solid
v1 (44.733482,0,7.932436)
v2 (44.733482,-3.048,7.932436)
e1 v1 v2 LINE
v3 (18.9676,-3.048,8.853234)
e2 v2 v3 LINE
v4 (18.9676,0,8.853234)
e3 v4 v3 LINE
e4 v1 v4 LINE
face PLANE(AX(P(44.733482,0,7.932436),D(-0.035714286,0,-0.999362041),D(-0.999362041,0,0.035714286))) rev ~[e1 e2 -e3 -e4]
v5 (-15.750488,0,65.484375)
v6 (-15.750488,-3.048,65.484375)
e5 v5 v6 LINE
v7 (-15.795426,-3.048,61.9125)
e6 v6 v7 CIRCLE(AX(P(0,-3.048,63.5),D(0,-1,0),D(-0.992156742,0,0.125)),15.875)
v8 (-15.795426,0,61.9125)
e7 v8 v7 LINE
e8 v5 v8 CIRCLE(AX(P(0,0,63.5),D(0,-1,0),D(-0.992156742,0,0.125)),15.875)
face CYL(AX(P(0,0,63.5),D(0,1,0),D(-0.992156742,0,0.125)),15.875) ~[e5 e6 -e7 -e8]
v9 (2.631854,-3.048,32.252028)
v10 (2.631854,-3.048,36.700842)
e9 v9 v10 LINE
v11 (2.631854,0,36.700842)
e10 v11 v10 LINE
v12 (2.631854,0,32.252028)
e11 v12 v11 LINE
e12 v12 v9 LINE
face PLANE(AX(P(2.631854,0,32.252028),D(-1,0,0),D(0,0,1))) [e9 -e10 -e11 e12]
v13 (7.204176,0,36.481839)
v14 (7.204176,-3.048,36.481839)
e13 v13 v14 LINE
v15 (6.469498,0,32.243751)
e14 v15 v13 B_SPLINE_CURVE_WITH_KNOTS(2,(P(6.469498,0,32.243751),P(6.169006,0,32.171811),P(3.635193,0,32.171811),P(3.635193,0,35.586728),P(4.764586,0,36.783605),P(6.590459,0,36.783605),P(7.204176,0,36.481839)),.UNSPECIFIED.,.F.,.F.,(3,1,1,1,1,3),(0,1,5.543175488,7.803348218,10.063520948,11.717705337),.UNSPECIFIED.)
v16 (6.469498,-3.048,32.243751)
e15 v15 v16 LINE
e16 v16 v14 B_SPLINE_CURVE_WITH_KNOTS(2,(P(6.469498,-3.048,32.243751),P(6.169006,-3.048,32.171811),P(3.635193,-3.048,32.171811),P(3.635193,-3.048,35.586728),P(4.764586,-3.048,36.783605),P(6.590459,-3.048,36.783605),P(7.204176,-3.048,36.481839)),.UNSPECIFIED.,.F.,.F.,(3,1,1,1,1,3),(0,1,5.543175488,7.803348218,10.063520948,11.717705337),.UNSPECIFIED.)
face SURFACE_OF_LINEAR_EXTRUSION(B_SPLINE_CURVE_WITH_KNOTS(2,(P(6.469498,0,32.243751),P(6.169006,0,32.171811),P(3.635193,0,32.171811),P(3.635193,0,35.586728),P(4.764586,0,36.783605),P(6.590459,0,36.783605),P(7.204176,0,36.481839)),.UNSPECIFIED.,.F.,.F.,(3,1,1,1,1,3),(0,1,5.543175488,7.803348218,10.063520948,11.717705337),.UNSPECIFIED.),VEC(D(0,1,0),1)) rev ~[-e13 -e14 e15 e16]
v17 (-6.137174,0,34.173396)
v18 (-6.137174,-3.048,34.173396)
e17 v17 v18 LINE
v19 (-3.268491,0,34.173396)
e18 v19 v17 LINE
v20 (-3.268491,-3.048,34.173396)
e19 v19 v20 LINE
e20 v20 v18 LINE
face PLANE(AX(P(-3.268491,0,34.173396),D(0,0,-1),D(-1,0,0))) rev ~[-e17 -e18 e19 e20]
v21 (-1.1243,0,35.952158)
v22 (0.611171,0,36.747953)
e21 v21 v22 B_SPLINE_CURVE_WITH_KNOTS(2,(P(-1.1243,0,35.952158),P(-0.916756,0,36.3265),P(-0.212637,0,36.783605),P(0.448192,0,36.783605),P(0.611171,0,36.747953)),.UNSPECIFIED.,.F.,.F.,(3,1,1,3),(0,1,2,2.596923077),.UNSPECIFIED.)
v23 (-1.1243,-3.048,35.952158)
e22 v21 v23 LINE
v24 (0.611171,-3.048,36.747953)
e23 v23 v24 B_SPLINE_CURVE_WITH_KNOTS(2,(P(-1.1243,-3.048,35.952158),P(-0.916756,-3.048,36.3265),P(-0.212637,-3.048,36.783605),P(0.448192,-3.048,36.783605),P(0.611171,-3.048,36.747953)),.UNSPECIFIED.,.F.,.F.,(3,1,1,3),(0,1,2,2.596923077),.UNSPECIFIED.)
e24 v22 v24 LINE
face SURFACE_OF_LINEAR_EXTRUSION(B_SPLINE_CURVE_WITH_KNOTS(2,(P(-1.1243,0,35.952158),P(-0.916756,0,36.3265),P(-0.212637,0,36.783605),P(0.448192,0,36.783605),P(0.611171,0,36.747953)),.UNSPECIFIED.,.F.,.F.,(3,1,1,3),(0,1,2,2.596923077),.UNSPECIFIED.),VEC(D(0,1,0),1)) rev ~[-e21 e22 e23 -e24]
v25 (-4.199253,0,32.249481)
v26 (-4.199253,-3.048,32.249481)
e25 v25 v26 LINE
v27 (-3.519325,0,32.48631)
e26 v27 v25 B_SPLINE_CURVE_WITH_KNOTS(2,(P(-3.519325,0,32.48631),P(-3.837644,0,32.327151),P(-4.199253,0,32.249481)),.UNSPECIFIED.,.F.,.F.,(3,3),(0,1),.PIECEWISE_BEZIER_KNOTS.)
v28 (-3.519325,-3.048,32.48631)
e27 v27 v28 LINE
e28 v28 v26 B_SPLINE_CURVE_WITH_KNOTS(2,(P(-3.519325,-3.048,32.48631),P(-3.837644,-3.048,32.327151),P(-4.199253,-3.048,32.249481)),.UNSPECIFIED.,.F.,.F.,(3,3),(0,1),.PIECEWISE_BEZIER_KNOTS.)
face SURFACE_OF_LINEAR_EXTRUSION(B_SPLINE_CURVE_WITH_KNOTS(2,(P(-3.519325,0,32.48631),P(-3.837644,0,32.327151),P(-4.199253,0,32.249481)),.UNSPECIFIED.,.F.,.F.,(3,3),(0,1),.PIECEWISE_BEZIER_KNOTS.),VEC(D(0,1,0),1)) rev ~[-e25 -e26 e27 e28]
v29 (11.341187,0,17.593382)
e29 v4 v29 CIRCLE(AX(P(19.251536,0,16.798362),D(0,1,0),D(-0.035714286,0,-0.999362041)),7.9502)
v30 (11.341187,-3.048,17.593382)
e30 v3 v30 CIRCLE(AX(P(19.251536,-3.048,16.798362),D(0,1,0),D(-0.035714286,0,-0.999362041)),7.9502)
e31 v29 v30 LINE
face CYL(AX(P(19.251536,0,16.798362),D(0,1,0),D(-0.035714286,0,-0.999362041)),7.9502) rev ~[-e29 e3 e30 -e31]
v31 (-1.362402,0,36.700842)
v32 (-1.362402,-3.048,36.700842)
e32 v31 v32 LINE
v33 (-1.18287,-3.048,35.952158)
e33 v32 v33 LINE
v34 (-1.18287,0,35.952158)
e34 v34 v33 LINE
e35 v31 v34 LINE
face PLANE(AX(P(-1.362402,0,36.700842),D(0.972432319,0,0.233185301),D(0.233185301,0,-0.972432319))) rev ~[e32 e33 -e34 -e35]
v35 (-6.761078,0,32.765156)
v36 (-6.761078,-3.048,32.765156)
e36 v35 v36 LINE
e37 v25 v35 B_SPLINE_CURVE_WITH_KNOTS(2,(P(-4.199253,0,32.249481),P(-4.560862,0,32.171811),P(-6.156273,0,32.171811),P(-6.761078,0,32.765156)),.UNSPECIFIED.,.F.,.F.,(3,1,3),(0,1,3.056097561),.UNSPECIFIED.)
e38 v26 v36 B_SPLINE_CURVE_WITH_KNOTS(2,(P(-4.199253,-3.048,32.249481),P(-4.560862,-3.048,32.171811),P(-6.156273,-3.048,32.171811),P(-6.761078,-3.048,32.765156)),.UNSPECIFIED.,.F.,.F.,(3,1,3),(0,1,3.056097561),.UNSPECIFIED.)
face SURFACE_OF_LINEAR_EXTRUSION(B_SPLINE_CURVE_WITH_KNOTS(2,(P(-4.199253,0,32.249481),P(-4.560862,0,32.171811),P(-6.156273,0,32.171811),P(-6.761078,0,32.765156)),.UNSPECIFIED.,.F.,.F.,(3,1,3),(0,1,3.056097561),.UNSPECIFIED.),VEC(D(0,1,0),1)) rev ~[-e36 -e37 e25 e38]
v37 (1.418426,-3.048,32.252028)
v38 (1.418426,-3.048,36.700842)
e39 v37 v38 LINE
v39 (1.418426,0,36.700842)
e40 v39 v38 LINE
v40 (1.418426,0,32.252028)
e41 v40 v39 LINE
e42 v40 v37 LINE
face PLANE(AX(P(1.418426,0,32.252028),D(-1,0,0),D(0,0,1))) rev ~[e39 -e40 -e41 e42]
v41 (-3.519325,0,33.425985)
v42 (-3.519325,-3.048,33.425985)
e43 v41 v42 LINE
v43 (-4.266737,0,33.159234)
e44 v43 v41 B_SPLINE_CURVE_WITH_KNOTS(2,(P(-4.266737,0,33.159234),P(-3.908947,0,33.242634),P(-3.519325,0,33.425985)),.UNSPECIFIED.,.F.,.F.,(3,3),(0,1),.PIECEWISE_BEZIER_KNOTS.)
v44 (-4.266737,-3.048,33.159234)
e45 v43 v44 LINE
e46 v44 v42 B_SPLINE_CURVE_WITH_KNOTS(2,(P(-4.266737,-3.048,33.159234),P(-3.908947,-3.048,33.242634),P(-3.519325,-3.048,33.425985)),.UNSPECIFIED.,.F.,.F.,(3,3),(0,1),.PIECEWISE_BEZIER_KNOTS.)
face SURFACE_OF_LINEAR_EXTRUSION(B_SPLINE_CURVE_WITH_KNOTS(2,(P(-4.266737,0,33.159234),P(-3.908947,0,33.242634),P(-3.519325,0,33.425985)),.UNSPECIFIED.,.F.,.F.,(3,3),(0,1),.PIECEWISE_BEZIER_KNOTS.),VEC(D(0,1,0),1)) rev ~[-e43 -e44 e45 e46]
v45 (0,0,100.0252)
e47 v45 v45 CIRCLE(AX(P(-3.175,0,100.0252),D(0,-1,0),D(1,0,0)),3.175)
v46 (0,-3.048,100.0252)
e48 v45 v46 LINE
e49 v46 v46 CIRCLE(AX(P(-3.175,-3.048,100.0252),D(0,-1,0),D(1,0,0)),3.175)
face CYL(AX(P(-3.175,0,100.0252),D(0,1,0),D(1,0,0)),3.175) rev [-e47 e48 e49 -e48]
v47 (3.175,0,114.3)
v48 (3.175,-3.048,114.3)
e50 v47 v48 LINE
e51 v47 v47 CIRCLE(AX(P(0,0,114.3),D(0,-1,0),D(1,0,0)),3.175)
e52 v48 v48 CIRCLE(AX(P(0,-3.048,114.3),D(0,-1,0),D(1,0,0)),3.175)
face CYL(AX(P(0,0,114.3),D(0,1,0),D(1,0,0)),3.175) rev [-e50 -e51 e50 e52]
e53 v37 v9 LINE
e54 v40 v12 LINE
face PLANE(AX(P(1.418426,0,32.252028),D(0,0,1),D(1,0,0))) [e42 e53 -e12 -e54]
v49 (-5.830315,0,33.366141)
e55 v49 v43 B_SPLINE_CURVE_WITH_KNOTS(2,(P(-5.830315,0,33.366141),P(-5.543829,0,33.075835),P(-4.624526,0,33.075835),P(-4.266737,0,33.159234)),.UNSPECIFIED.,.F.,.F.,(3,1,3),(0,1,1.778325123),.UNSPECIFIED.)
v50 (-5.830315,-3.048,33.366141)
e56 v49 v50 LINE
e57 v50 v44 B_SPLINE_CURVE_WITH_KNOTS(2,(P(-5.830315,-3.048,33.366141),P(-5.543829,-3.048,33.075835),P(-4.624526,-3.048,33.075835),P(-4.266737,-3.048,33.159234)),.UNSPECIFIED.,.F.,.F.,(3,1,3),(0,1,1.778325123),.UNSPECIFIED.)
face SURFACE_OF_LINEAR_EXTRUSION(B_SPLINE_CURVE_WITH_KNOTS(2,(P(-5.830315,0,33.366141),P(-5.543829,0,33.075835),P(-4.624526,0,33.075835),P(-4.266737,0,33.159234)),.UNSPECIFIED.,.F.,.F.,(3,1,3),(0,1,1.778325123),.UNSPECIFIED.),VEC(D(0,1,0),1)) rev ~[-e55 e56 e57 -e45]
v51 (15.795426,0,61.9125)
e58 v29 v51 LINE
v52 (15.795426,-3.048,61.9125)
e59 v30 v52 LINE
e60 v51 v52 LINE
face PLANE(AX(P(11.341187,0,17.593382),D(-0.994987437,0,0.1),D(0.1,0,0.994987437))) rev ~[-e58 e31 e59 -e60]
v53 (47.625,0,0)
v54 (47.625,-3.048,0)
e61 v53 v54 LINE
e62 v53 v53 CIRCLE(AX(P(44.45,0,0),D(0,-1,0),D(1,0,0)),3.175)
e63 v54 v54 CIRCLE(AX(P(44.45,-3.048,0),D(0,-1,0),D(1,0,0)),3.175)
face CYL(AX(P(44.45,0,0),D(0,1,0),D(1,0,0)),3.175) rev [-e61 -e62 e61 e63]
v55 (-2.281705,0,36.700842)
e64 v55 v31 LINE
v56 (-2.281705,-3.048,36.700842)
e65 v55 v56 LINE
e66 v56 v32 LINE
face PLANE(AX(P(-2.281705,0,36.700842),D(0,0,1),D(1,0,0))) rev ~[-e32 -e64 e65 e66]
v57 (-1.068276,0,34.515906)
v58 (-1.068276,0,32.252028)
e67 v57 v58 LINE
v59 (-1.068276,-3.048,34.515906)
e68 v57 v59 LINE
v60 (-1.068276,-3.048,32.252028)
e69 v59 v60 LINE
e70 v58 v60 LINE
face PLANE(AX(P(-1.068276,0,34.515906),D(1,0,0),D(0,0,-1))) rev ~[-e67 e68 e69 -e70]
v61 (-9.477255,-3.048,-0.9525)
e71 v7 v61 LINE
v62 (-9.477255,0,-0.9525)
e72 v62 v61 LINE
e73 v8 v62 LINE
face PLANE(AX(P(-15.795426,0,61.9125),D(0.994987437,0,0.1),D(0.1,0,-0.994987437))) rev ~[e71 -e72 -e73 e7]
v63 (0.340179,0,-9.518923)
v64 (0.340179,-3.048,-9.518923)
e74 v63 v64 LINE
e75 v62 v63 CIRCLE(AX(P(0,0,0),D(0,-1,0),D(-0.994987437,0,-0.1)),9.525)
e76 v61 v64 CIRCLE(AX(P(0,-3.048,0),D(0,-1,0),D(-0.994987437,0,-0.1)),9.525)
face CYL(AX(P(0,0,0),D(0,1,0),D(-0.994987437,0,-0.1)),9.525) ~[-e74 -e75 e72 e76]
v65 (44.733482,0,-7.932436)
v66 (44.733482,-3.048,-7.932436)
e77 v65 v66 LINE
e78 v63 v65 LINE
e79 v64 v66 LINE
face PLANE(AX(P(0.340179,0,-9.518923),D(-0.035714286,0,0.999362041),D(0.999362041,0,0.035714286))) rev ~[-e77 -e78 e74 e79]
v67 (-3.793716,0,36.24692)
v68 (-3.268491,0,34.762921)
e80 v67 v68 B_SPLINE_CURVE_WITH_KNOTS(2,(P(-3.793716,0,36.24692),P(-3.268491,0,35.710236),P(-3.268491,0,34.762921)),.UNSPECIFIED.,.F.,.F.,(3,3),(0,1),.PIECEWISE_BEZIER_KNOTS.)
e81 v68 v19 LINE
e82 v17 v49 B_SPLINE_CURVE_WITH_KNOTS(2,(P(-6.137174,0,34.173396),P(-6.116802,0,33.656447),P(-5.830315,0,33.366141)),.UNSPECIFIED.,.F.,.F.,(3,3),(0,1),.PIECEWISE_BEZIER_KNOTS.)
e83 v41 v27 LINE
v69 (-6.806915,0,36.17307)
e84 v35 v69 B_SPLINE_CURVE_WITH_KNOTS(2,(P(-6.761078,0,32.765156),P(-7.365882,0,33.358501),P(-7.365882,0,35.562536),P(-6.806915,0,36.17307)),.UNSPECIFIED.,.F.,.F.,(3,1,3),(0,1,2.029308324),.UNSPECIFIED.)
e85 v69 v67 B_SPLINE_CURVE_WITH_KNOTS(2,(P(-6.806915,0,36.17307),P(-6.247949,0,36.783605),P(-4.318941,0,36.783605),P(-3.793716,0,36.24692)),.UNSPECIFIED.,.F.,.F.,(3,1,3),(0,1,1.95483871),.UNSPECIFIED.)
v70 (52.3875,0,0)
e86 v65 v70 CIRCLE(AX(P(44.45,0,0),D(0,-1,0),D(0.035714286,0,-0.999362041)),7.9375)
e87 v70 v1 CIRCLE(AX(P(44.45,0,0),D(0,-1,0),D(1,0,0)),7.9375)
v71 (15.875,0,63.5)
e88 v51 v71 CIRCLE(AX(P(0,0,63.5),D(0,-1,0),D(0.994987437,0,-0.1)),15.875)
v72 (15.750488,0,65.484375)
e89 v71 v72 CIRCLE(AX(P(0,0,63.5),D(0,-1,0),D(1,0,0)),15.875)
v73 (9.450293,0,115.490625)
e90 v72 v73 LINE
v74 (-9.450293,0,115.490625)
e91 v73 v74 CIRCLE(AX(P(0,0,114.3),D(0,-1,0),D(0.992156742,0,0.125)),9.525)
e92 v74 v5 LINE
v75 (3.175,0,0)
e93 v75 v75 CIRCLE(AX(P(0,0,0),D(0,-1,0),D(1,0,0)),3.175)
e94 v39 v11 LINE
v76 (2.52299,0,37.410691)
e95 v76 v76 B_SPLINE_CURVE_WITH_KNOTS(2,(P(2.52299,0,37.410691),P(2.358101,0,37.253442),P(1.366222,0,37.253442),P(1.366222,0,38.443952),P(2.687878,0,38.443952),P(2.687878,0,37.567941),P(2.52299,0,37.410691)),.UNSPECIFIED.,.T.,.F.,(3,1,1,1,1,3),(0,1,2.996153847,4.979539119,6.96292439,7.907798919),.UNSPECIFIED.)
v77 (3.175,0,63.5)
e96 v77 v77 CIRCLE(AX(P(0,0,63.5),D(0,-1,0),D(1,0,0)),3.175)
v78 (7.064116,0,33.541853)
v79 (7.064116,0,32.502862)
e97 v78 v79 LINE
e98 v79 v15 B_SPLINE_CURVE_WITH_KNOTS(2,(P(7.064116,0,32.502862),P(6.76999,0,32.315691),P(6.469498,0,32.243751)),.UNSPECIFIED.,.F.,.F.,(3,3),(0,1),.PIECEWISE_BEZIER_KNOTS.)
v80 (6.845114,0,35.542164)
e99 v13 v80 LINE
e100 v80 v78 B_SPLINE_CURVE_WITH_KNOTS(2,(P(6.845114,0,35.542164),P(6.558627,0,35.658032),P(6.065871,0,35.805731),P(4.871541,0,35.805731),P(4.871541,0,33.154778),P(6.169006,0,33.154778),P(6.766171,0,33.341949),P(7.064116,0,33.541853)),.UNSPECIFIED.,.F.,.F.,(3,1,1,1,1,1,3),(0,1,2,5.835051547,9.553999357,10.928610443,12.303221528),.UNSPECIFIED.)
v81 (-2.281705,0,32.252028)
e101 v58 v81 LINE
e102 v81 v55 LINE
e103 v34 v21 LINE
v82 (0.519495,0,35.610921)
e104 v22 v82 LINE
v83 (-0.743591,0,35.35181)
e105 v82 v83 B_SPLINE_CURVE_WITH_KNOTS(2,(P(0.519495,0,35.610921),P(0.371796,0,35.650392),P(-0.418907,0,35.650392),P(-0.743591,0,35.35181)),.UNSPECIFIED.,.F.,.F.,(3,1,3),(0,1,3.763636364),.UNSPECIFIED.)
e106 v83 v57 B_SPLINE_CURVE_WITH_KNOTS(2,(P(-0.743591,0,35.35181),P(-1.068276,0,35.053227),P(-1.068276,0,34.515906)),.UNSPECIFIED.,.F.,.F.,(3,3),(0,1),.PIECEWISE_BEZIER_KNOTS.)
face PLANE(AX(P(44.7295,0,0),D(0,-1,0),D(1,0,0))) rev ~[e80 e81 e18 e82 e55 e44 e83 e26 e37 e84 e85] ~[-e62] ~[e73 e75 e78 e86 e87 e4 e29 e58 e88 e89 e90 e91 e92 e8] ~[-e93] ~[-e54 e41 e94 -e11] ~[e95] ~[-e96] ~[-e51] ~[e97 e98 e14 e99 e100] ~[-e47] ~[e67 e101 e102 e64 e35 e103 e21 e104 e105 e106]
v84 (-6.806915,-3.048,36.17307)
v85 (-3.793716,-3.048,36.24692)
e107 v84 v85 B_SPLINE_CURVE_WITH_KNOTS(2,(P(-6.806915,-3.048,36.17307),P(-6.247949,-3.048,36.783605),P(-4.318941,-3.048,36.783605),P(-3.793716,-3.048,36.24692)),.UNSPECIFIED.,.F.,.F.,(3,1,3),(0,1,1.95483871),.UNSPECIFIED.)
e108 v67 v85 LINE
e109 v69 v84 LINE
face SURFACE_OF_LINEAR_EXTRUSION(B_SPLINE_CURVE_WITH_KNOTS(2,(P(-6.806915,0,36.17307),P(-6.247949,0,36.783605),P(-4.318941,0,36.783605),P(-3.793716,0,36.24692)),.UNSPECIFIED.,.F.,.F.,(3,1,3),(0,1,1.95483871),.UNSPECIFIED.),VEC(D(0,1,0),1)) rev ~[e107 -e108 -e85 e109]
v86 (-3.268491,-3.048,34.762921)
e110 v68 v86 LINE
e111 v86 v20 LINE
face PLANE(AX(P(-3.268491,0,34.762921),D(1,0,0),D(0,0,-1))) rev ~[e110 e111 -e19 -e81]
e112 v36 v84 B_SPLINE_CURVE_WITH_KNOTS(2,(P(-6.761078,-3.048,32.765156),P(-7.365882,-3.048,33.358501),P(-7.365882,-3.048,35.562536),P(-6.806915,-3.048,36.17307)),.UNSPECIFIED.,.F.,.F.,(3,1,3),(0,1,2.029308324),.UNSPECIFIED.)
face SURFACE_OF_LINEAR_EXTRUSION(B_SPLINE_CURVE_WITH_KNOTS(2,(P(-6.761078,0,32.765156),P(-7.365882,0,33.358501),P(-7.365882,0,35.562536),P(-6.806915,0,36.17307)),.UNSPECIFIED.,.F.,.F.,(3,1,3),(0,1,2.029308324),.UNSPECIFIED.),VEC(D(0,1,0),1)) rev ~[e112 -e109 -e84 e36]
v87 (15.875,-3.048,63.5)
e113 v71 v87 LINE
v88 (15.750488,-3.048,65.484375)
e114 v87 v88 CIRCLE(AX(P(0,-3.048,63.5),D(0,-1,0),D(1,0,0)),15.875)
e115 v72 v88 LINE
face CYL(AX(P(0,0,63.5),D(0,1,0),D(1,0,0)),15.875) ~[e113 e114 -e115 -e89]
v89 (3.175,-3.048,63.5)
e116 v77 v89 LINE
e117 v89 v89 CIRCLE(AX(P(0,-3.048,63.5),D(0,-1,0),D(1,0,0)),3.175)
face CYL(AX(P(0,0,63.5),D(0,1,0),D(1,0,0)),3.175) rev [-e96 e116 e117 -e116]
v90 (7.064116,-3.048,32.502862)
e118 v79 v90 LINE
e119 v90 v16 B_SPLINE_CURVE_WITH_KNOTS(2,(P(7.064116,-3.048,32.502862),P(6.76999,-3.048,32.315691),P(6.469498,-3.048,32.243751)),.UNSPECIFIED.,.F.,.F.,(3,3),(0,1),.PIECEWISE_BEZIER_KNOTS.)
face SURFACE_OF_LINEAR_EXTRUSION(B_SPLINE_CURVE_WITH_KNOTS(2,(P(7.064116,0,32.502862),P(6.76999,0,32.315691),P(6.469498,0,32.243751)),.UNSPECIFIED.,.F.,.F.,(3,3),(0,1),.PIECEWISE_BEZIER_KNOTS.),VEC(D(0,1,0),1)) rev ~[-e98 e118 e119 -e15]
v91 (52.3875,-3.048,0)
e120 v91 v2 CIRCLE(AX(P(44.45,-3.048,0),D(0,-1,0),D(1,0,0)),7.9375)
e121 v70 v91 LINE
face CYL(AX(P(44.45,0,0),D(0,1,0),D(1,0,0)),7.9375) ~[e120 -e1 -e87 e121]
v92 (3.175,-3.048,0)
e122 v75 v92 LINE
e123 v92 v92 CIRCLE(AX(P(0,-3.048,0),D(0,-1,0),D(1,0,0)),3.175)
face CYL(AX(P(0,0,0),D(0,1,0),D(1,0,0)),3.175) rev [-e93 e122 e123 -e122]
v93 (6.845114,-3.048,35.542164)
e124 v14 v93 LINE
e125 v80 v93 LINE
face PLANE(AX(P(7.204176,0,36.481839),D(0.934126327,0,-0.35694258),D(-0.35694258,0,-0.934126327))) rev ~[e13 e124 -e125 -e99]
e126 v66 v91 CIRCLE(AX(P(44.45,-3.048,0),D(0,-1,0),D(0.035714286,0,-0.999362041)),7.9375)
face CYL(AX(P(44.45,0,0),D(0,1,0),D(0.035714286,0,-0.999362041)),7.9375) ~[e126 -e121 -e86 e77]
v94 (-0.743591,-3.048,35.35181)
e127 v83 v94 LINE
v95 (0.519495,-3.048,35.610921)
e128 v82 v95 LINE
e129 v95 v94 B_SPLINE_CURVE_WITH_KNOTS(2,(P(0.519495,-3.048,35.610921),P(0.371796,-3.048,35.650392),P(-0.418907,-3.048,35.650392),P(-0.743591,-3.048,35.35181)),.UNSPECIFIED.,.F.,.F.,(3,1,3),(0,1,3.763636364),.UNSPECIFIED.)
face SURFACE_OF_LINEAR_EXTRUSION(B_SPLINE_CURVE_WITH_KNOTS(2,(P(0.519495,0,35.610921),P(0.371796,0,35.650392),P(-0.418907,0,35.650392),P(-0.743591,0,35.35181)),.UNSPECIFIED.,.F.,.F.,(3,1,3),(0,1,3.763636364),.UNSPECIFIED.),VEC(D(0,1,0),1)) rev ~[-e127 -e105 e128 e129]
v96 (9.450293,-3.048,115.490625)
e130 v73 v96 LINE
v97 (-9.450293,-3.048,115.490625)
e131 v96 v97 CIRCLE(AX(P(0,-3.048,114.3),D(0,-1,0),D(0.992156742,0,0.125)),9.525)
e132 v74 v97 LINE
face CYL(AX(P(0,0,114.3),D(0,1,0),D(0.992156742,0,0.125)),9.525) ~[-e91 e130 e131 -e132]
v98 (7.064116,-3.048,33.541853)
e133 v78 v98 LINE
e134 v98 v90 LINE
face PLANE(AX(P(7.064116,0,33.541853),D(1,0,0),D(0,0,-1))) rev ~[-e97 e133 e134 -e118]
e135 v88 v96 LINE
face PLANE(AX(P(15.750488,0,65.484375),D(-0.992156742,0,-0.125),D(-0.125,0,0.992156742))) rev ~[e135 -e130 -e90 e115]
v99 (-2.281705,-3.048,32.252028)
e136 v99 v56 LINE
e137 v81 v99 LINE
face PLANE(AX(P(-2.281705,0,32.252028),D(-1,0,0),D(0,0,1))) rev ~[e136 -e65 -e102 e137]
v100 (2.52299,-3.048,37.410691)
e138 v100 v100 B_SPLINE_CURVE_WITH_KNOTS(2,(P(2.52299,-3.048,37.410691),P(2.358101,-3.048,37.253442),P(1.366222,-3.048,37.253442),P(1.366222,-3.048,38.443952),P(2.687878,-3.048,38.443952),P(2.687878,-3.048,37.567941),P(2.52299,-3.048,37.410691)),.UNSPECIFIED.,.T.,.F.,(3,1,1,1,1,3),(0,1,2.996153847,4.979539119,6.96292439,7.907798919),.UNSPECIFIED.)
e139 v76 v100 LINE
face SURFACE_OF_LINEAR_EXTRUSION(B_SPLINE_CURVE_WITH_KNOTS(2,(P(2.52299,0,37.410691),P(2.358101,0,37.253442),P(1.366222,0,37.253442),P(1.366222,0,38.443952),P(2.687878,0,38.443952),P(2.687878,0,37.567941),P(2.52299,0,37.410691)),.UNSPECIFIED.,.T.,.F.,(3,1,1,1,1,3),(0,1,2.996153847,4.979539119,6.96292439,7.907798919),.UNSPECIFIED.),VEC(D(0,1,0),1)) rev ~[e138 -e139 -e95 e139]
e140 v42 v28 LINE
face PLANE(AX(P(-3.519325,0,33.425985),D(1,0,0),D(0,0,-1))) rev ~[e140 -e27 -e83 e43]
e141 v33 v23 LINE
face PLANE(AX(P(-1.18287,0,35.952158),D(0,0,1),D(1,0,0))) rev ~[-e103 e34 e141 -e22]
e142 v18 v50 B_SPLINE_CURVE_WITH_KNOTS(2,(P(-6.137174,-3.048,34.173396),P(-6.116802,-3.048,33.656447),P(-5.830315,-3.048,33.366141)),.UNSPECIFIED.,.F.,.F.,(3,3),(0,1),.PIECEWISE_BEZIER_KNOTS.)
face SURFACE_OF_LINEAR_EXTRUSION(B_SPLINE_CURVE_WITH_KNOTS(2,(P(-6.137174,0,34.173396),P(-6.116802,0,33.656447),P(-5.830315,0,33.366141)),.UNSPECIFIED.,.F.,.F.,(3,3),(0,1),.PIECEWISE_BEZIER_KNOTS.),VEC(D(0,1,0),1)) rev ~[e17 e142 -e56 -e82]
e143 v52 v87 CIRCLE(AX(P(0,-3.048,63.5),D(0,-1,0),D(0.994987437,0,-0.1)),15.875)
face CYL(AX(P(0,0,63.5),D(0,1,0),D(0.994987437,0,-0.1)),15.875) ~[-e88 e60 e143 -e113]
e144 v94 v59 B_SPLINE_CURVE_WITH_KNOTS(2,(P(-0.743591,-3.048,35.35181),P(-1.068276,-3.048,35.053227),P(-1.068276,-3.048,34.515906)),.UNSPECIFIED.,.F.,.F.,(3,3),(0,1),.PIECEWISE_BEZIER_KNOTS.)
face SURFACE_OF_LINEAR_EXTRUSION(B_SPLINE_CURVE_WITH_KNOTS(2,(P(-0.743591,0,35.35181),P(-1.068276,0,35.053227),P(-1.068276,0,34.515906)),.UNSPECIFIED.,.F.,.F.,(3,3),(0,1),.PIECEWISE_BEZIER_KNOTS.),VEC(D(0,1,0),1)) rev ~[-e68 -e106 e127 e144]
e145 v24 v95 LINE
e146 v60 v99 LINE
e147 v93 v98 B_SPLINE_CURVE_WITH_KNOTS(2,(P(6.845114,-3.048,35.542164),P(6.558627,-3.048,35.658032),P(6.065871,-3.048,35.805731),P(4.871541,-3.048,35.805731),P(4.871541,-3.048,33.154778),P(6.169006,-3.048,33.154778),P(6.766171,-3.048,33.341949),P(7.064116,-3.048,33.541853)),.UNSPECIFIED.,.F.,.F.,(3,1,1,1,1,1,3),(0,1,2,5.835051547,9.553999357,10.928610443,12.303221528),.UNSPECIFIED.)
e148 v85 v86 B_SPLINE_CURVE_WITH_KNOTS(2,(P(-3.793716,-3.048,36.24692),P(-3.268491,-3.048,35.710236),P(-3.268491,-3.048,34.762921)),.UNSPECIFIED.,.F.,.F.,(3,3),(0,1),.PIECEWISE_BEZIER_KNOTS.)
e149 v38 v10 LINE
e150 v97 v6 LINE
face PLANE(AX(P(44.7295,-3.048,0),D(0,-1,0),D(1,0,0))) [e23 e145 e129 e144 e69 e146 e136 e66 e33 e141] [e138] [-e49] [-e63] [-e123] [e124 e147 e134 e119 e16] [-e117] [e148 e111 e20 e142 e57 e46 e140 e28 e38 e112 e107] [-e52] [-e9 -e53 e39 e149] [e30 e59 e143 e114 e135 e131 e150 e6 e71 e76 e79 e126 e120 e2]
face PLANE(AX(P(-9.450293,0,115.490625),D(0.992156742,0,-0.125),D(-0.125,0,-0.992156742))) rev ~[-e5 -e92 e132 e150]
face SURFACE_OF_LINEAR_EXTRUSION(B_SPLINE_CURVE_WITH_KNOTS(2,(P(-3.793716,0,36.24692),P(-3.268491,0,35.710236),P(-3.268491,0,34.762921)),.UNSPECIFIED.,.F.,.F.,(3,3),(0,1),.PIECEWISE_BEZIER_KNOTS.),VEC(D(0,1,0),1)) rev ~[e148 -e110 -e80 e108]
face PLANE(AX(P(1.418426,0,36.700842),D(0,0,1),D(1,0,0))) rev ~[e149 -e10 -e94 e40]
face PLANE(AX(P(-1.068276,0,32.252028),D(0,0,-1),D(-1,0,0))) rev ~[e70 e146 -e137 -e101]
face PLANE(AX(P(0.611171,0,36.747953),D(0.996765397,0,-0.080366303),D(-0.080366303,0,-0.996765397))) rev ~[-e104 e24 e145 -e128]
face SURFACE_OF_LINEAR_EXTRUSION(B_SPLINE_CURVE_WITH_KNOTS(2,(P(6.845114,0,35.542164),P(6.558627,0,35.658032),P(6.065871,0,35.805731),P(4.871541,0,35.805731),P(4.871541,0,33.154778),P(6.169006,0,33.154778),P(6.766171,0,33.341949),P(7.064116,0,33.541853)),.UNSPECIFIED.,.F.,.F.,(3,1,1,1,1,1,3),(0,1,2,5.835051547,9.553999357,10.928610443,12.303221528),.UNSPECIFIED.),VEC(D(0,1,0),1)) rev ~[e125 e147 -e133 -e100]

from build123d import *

# Parameters (mm, degrees)
F0_R     = 3.175
F0_W     = 1.2134287943
F0_H     = 4.4488144882
F1_DEPTH = 3.048


with BuildPart() as f1:
    # F0 (on Front) → F1 (new body)
    with BuildSketch(Plane.XZ):
        with BuildLine():
            ThreePointArc((44.7334821429, -7.9324362036), (50.1620069047, -5.5115227815), (52.3875, 0))
            ThreePointArc((52.3875, 0), (50.1620069047, 5.5115227815), (44.7334821429, 7.9324362036))
            ThreePointArc((44.7334821429, 7.9324362036), (36.5125, 0), (44.7334821429, -7.9324362036))
        make_face()
        with Locations((44.45, 0)):
            Circle(F0_R, mode=Mode.SUBTRACT)
        with BuildLine():
            ThreePointArc((44.7334821429, -7.9324362036), (36.5125, 0), (44.7334821429, 7.9324362036))
            Line((44.7334821429, 7.9324362036), (18.9676000005, 8.8532337108))
            ThreePointArc((18.9676000005, 8.8532337108), (13.2611998974, 11.5713591498), (11.3411865923, 17.5933818124))
            Line((11.3411865923, 17.5933818124), (15.7954255641, 61.9125))
            ThreePointArc((15.7954255641, 61.9125), (0, 47.625), (-15.7954255641, 61.9125))
            Line((-15.7954255641, 61.9125), (-9.4772553384, -0.9525))
            ThreePointArc((-9.4772553384, -0.9525), (-0.4768479324, 9.5130563464), (9.525, 0))
            ThreePointArc((9.525, 0), (6.8544082857, -6.6138273378), (0.3401785714, -9.5189234444))
            Line((0.3401785714, -9.5189234444), (44.7334821429, -7.9324362036))
        make_face()
        with BuildLine():
            add(Edge.make_bspline(
                [(-4.1992530573, 32.2494809549), (-4.5608624776, 32.1718113259), (-5.0829042464, 32.1718113259)],
                knots=[0, 0, 0, 1, 1, 1], degree=2))
            add(Edge.make_bspline(
                [(-5.0829042464, 32.1718113259), (-6.156273054, 32.1718113259), (-6.7610775422, 32.7651563606)],
                knots=[0, 0, 0, 1, 1, 1], degree=2))
            add(Edge.make_bspline(
                [(-6.7610775422, 32.7651563606), (-7.3658820304, 33.3585013954), (-7.3658820304, 34.444602929)],
                knots=[0, 0, 0, 1, 1, 1], degree=2))
            add(Edge.make_bspline(
                [(-7.3658820304, 34.444602929), (-7.3658820304, 35.5625362778), (-6.806915356, 36.1730704928)],
                knots=[0, 0, 0, 1, 1, 1], degree=2))
            add(Edge.make_bspline(
                [(-6.806915356, 36.1730704928), (-6.2479486816, 36.7836047077), (-5.2611624114, 36.7836047077)],
                knots=[0, 0, 0, 1, 1, 1], degree=2))
            add(Edge.make_bspline(
                [(-5.2611624114, 36.7836047077), (-4.3189406823, 36.7836047077), (-3.793715732, 36.246920304)],
                knots=[0, 0, 0, 1, 1, 1], degree=2))
            add(Edge.make_bspline(
                [(-3.793715732, 36.246920304), (-3.2684907817, 35.7102359002), (-3.2684907817, 34.7629210807)],
                knots=[0, 0, 0, 1, 1, 1], degree=2))
            Line((-3.2684907817, 34.7629210807), (-3.2684907817, 34.1733958638))
            Line((-3.2684907817, 34.1733958638), (-6.1371739649, 34.1733958638))
            add(Edge.make_bspline(
                [(-6.1371739649, 34.1733958638), (-6.1168016031, 33.6564471854), (-5.8303152666, 33.3661410311)],
                knots=[0, 0, 0, 1, 1, 1], degree=2))
            add(Edge.make_bspline(
                [(-5.8303152666, 33.3661410311), (-5.5438289301, 33.0758348767), (-5.0268802517, 33.0758348767)],
                knots=[0, 0, 0, 1, 1, 1], degree=2))
            add(Edge.make_bspline(
                [(-5.0268802517, 33.0758348767), (-4.624526108, 33.0758348767), (-4.2667365054, 33.1592342324)],
                knots=[0, 0, 0, 1, 1, 1], degree=2))
            add(Edge.make_bspline(
                [(-4.2667365054, 33.1592342324), (-3.9089469029, 33.2426335882), (-3.5193254852, 33.4259848436)],
                knots=[0, 0, 0, 1, 1, 1], degree=2))
            Line((-3.5193254852, 33.4259848436), (-3.5193254852, 32.4863096597))
            add(Edge.make_bspline(
                [(-3.5193254852, 32.4863096597), (-3.8376436369, 32.3271505839), (-4.1992530573, 32.2494809549)],
                knots=[0, 0, 0, 1, 1, 1], degree=2))
        make_face(mode=Mode.SUBTRACT)
        with BuildLine():
            add(Edge.make_bspline(
                [(-0.5646964011, 36.5550522748), (-0.2126365253, 36.7836047077), (0.2011770719, 36.7836047077)],
                knots=[0, 0, 0, 1, 1, 1], degree=2))
            add(Edge.make_bspline(
                [(0.2011770719, 36.7836047077), (0.4481919576, 36.7836047077), (0.6111708513, 36.7479530748)],
                knots=[0, 0, 0, 1, 1, 1], degree=2))
            Line((0.6111708513, 36.7479530748), (0.5194952236, 35.6109206369))
            add(Edge.make_bspline(
                [(0.5194952236, 35.6109206369), (0.3717956012, 35.6503920877), (0.1617056211, 35.6503920877)],
                knots=[0, 0, 0, 1, 1, 1], degree=2))
            add(Edge.make_bspline(
                [(0.1617056211, 35.6503920877), (-0.4189066876, 35.6503920877), (-0.7435912024, 35.3518096614)],
                knots=[0, 0, 0, 1, 1, 1], degree=2))
            add(Edge.make_bspline(
                [(-0.7435912024, 35.3518096614), (-1.0682757171, 35.0532272351), (-1.0682757171, 34.515906195)],
                knots=[0, 0, 0, 1, 1, 1], degree=2))
            Line((-1.0682757171, 34.515906195), (-1.0682757171, 32.2520275001))
            Line((-1.0682757171, 32.2520275001), (-2.2817045114, 32.2520275001))
            Line((-2.2817045114, 32.2520275001), (-2.2817045114, 36.7008419883))
            Line((-2.2817045114, 36.7008419883), (-1.3624016893, 36.7008419883))
            Line((-1.3624016893, 36.7008419883), (-1.1828702517, 35.9521576955))
            Line((-1.1828702517, 35.9521576955), (-1.1242997118, 35.9521576955))
            add(Edge.make_bspline(
                [(-1.1242997118, 35.9521576955), (-0.9167562769, 36.3264998419), (-0.5646964011, 36.5550522748)],
                knots=[0, 0, 0, 1, 1, 1], degree=2))
        make_face(mode=Mode.SUBTRACT)
        with Locations((2.0251400811, 34.4764347442)):
            Rectangle(F0_W, F0_H, mode=Mode.SUBTRACT)
        with BuildLine():
            add(Edge.make_bspline(
                [(6.4694981152, 32.2437512281), (6.16900578, 32.1718113259), (5.7119009142, 32.1718113259)],
                knots=[0, 0, 0, 1, 1, 1], degree=2))
            add(Edge.make_bspline(
                [(5.7119009142, 32.1718113259), (3.6351932925, 32.1718113259), (3.6351932925, 34.4522425647)],
                knots=[0, 0, 0, 1, 1, 1], degree=2))
            add(Edge.make_bspline(
                [(3.6351932925, 34.4522425647), (3.6351932925, 35.5867284573), (4.1998896936, 36.1851665825)],
                knots=[0, 0, 0, 1, 1, 1], degree=2))
            add(Edge.make_bspline(
                [(4.1998896936, 36.1851665825), (4.7645860947, 36.7836047077), (5.8188558132, 36.7836047077)],
                knots=[0, 0, 0, 1, 1, 1], degree=2))
            add(Edge.make_bspline(
                [(5.8188558132, 36.7836047077), (6.5904590129, 36.7836047077), (7.2041764094, 36.4818390999)],
                knots=[0, 0, 0, 1, 1, 1], degree=2))
            Line((7.2041764094, 36.4818390999), (6.8451135342, 35.5421639161))
            add(Edge.make_bspline(
                [(6.8451135342, 35.5421639161), (6.5586271977, 35.6580317233), (6.3122489483, 35.7318815345)],
                knots=[0, 0, 0, 1, 1, 1], degree=2))
            add(Edge.make_bspline(
                [(6.3122489483, 35.7318815345), (6.0658706989, 35.8057313457), (5.8188558132, 35.8057313457)],
                knots=[0, 0, 0, 1, 1, 1], degree=2))
            add(Edge.make_bspline(
                [(5.8188558132, 35.8057313457), (4.8715409937, 35.8057313457), (4.8715409937, 34.4598822003)],
                knots=[0, 0, 0, 1, 1, 1], degree=2))
            add(Edge.make_bspline(
                [(4.8715409937, 34.4598822003), (4.8715409937, 33.1547777783), (5.8188558132, 33.1547777783)],
                knots=[0, 0, 0, 1, 1, 1], degree=2))
            add(Edge.make_bspline(
                [(5.8188558132, 33.1547777783), (6.16900578, 33.1547777783), (6.4675882063, 33.2483633149)],
                knots=[0, 0, 0, 1, 1, 1], degree=2))
            add(Edge.make_bspline(
                [(6.4675882063, 33.2483633149), (6.7661706326, 33.3419488515), (7.0641164226, 33.5418526508)],
                knots=[0, 0, 0, 1, 1, 1], degree=2))
            Line((7.0641164226, 33.5418526508), (7.0641164226, 32.5028622036))
            add(Edge.make_bspline(
                [(7.0641164226, 32.5028622036), (6.7699904504, 32.3156911304), (6.4694981152, 32.2437512281)],
                knots=[0, 0, 0, 1, 1, 1], degree=2))
        make_face(mode=Mode.SUBTRACT)
        with BuildLine():
            add(Edge.make_bspline(
                [(2.0270499901, 37.2534422997), (1.3662215071, 37.2534422997), (1.3662215071, 37.8506071523)],
                knots=[0, 0, 0, 1, 1, 1], degree=2))
            add(Edge.make_bspline(
                [(1.3662215071, 37.8506071523), (1.3662215071, 38.443952187), (2.0270499901, 38.443952187)],
                knots=[0, 0, 0, 1, 1, 1], degree=2))
            add(Edge.make_bspline(
                [(2.0270499901, 38.443952187), (2.687878473, 38.443952187), (2.687878473, 37.8506071523)],
                knots=[0, 0, 0, 1, 1, 1], degree=2))
            add(Edge.make_bspline(
                [(2.687878473, 37.8506071523), (2.687878473, 37.5679406335), (2.5229896704, 37.4106914666)],
                knots=[0, 0, 0, 1, 1, 1], degree=2))
            add(Edge.make_bspline(
                [(2.5229896704, 37.4106914666), (2.3581008678, 37.2534422997), (2.0270499901, 37.2534422997)],
                knots=[0, 0, 0, 1, 1, 1], degree=2))
        make_face(mode=Mode.SUBTRACT)
        with BuildLine():
            ThreePointArc((-9.4772553384, -0.9525), (-6.2623833816, -7.1769199091), (0.3401785714, -9.5189234444))
            ThreePointArc((0.3401785714, -9.5189234444), (6.8544082857, -6.6138273378), (9.525, 0))
            ThreePointArc((9.525, 0), (-0.4768479324, 9.5130563464), (-9.4772553384, -0.9525))
        make_face()
        Circle(F0_R, mode=Mode.SUBTRACT)
        with BuildLine():
            ThreePointArc((-15.7954255641, 61.9125), (0, 47.625), (15.7954255641, 61.9125))
            ThreePointArc((15.7954255641, 61.9125), (15.8550939106, 62.7052534459), (15.875, 63.5))
            ThreePointArc((15.875, 63.5), (15.8438414904, 64.4941387366), (15.7504882737, 65.484375))
            ThreePointArc((15.7504882737, 65.484375), (0, 79.375), (-15.7504882737, 65.484375))
            ThreePointArc((-15.7504882737, 65.484375), (-15.8737438155, 63.6997054867), (-15.7954255641, 61.9125))
        make_face()
        with Locations((0, 63.5)):
            Circle(F0_R, mode=Mode.SUBTRACT)
        with BuildLine():
            Line((-9.4502929642, 115.490625), (-15.7504882737, 65.484375))
            ThreePointArc((-15.7504882737, 65.484375), (0, 79.375), (15.7504882737, 65.484375))
            Line((15.7504882737, 65.484375), (9.4502929642, 115.490625))
            ThreePointArc((9.4502929642, 115.490625), (9.5063048942, 114.896483242), (9.525, 114.3))
            ThreePointArc((9.525, 114.3), (-0.596483242, 104.7936951058), (-9.4502929642, 115.490625))
        make_face()
        with Locations((-3.175, 100.0252)):
            Circle(F0_R, mode=Mode.SUBTRACT)
        with BuildLine():
            ThreePointArc((9.4502929642, 115.490625), (0, 123.825), (-9.4502929642, 115.490625))
            ThreePointArc((-9.4502929642, 115.490625), (-0.596483242, 104.7936951058), (9.525, 114.3))
            ThreePointArc((9.525, 114.3), (9.5063048942, 114.896483242), (9.4502929642, 115.490625))
        make_face()
        with Locations((0, 114.3)):
            Circle(F0_R, mode=Mode.SUBTRACT)
    extrude(amount=F1_DEPTH)


solid = f1.part
